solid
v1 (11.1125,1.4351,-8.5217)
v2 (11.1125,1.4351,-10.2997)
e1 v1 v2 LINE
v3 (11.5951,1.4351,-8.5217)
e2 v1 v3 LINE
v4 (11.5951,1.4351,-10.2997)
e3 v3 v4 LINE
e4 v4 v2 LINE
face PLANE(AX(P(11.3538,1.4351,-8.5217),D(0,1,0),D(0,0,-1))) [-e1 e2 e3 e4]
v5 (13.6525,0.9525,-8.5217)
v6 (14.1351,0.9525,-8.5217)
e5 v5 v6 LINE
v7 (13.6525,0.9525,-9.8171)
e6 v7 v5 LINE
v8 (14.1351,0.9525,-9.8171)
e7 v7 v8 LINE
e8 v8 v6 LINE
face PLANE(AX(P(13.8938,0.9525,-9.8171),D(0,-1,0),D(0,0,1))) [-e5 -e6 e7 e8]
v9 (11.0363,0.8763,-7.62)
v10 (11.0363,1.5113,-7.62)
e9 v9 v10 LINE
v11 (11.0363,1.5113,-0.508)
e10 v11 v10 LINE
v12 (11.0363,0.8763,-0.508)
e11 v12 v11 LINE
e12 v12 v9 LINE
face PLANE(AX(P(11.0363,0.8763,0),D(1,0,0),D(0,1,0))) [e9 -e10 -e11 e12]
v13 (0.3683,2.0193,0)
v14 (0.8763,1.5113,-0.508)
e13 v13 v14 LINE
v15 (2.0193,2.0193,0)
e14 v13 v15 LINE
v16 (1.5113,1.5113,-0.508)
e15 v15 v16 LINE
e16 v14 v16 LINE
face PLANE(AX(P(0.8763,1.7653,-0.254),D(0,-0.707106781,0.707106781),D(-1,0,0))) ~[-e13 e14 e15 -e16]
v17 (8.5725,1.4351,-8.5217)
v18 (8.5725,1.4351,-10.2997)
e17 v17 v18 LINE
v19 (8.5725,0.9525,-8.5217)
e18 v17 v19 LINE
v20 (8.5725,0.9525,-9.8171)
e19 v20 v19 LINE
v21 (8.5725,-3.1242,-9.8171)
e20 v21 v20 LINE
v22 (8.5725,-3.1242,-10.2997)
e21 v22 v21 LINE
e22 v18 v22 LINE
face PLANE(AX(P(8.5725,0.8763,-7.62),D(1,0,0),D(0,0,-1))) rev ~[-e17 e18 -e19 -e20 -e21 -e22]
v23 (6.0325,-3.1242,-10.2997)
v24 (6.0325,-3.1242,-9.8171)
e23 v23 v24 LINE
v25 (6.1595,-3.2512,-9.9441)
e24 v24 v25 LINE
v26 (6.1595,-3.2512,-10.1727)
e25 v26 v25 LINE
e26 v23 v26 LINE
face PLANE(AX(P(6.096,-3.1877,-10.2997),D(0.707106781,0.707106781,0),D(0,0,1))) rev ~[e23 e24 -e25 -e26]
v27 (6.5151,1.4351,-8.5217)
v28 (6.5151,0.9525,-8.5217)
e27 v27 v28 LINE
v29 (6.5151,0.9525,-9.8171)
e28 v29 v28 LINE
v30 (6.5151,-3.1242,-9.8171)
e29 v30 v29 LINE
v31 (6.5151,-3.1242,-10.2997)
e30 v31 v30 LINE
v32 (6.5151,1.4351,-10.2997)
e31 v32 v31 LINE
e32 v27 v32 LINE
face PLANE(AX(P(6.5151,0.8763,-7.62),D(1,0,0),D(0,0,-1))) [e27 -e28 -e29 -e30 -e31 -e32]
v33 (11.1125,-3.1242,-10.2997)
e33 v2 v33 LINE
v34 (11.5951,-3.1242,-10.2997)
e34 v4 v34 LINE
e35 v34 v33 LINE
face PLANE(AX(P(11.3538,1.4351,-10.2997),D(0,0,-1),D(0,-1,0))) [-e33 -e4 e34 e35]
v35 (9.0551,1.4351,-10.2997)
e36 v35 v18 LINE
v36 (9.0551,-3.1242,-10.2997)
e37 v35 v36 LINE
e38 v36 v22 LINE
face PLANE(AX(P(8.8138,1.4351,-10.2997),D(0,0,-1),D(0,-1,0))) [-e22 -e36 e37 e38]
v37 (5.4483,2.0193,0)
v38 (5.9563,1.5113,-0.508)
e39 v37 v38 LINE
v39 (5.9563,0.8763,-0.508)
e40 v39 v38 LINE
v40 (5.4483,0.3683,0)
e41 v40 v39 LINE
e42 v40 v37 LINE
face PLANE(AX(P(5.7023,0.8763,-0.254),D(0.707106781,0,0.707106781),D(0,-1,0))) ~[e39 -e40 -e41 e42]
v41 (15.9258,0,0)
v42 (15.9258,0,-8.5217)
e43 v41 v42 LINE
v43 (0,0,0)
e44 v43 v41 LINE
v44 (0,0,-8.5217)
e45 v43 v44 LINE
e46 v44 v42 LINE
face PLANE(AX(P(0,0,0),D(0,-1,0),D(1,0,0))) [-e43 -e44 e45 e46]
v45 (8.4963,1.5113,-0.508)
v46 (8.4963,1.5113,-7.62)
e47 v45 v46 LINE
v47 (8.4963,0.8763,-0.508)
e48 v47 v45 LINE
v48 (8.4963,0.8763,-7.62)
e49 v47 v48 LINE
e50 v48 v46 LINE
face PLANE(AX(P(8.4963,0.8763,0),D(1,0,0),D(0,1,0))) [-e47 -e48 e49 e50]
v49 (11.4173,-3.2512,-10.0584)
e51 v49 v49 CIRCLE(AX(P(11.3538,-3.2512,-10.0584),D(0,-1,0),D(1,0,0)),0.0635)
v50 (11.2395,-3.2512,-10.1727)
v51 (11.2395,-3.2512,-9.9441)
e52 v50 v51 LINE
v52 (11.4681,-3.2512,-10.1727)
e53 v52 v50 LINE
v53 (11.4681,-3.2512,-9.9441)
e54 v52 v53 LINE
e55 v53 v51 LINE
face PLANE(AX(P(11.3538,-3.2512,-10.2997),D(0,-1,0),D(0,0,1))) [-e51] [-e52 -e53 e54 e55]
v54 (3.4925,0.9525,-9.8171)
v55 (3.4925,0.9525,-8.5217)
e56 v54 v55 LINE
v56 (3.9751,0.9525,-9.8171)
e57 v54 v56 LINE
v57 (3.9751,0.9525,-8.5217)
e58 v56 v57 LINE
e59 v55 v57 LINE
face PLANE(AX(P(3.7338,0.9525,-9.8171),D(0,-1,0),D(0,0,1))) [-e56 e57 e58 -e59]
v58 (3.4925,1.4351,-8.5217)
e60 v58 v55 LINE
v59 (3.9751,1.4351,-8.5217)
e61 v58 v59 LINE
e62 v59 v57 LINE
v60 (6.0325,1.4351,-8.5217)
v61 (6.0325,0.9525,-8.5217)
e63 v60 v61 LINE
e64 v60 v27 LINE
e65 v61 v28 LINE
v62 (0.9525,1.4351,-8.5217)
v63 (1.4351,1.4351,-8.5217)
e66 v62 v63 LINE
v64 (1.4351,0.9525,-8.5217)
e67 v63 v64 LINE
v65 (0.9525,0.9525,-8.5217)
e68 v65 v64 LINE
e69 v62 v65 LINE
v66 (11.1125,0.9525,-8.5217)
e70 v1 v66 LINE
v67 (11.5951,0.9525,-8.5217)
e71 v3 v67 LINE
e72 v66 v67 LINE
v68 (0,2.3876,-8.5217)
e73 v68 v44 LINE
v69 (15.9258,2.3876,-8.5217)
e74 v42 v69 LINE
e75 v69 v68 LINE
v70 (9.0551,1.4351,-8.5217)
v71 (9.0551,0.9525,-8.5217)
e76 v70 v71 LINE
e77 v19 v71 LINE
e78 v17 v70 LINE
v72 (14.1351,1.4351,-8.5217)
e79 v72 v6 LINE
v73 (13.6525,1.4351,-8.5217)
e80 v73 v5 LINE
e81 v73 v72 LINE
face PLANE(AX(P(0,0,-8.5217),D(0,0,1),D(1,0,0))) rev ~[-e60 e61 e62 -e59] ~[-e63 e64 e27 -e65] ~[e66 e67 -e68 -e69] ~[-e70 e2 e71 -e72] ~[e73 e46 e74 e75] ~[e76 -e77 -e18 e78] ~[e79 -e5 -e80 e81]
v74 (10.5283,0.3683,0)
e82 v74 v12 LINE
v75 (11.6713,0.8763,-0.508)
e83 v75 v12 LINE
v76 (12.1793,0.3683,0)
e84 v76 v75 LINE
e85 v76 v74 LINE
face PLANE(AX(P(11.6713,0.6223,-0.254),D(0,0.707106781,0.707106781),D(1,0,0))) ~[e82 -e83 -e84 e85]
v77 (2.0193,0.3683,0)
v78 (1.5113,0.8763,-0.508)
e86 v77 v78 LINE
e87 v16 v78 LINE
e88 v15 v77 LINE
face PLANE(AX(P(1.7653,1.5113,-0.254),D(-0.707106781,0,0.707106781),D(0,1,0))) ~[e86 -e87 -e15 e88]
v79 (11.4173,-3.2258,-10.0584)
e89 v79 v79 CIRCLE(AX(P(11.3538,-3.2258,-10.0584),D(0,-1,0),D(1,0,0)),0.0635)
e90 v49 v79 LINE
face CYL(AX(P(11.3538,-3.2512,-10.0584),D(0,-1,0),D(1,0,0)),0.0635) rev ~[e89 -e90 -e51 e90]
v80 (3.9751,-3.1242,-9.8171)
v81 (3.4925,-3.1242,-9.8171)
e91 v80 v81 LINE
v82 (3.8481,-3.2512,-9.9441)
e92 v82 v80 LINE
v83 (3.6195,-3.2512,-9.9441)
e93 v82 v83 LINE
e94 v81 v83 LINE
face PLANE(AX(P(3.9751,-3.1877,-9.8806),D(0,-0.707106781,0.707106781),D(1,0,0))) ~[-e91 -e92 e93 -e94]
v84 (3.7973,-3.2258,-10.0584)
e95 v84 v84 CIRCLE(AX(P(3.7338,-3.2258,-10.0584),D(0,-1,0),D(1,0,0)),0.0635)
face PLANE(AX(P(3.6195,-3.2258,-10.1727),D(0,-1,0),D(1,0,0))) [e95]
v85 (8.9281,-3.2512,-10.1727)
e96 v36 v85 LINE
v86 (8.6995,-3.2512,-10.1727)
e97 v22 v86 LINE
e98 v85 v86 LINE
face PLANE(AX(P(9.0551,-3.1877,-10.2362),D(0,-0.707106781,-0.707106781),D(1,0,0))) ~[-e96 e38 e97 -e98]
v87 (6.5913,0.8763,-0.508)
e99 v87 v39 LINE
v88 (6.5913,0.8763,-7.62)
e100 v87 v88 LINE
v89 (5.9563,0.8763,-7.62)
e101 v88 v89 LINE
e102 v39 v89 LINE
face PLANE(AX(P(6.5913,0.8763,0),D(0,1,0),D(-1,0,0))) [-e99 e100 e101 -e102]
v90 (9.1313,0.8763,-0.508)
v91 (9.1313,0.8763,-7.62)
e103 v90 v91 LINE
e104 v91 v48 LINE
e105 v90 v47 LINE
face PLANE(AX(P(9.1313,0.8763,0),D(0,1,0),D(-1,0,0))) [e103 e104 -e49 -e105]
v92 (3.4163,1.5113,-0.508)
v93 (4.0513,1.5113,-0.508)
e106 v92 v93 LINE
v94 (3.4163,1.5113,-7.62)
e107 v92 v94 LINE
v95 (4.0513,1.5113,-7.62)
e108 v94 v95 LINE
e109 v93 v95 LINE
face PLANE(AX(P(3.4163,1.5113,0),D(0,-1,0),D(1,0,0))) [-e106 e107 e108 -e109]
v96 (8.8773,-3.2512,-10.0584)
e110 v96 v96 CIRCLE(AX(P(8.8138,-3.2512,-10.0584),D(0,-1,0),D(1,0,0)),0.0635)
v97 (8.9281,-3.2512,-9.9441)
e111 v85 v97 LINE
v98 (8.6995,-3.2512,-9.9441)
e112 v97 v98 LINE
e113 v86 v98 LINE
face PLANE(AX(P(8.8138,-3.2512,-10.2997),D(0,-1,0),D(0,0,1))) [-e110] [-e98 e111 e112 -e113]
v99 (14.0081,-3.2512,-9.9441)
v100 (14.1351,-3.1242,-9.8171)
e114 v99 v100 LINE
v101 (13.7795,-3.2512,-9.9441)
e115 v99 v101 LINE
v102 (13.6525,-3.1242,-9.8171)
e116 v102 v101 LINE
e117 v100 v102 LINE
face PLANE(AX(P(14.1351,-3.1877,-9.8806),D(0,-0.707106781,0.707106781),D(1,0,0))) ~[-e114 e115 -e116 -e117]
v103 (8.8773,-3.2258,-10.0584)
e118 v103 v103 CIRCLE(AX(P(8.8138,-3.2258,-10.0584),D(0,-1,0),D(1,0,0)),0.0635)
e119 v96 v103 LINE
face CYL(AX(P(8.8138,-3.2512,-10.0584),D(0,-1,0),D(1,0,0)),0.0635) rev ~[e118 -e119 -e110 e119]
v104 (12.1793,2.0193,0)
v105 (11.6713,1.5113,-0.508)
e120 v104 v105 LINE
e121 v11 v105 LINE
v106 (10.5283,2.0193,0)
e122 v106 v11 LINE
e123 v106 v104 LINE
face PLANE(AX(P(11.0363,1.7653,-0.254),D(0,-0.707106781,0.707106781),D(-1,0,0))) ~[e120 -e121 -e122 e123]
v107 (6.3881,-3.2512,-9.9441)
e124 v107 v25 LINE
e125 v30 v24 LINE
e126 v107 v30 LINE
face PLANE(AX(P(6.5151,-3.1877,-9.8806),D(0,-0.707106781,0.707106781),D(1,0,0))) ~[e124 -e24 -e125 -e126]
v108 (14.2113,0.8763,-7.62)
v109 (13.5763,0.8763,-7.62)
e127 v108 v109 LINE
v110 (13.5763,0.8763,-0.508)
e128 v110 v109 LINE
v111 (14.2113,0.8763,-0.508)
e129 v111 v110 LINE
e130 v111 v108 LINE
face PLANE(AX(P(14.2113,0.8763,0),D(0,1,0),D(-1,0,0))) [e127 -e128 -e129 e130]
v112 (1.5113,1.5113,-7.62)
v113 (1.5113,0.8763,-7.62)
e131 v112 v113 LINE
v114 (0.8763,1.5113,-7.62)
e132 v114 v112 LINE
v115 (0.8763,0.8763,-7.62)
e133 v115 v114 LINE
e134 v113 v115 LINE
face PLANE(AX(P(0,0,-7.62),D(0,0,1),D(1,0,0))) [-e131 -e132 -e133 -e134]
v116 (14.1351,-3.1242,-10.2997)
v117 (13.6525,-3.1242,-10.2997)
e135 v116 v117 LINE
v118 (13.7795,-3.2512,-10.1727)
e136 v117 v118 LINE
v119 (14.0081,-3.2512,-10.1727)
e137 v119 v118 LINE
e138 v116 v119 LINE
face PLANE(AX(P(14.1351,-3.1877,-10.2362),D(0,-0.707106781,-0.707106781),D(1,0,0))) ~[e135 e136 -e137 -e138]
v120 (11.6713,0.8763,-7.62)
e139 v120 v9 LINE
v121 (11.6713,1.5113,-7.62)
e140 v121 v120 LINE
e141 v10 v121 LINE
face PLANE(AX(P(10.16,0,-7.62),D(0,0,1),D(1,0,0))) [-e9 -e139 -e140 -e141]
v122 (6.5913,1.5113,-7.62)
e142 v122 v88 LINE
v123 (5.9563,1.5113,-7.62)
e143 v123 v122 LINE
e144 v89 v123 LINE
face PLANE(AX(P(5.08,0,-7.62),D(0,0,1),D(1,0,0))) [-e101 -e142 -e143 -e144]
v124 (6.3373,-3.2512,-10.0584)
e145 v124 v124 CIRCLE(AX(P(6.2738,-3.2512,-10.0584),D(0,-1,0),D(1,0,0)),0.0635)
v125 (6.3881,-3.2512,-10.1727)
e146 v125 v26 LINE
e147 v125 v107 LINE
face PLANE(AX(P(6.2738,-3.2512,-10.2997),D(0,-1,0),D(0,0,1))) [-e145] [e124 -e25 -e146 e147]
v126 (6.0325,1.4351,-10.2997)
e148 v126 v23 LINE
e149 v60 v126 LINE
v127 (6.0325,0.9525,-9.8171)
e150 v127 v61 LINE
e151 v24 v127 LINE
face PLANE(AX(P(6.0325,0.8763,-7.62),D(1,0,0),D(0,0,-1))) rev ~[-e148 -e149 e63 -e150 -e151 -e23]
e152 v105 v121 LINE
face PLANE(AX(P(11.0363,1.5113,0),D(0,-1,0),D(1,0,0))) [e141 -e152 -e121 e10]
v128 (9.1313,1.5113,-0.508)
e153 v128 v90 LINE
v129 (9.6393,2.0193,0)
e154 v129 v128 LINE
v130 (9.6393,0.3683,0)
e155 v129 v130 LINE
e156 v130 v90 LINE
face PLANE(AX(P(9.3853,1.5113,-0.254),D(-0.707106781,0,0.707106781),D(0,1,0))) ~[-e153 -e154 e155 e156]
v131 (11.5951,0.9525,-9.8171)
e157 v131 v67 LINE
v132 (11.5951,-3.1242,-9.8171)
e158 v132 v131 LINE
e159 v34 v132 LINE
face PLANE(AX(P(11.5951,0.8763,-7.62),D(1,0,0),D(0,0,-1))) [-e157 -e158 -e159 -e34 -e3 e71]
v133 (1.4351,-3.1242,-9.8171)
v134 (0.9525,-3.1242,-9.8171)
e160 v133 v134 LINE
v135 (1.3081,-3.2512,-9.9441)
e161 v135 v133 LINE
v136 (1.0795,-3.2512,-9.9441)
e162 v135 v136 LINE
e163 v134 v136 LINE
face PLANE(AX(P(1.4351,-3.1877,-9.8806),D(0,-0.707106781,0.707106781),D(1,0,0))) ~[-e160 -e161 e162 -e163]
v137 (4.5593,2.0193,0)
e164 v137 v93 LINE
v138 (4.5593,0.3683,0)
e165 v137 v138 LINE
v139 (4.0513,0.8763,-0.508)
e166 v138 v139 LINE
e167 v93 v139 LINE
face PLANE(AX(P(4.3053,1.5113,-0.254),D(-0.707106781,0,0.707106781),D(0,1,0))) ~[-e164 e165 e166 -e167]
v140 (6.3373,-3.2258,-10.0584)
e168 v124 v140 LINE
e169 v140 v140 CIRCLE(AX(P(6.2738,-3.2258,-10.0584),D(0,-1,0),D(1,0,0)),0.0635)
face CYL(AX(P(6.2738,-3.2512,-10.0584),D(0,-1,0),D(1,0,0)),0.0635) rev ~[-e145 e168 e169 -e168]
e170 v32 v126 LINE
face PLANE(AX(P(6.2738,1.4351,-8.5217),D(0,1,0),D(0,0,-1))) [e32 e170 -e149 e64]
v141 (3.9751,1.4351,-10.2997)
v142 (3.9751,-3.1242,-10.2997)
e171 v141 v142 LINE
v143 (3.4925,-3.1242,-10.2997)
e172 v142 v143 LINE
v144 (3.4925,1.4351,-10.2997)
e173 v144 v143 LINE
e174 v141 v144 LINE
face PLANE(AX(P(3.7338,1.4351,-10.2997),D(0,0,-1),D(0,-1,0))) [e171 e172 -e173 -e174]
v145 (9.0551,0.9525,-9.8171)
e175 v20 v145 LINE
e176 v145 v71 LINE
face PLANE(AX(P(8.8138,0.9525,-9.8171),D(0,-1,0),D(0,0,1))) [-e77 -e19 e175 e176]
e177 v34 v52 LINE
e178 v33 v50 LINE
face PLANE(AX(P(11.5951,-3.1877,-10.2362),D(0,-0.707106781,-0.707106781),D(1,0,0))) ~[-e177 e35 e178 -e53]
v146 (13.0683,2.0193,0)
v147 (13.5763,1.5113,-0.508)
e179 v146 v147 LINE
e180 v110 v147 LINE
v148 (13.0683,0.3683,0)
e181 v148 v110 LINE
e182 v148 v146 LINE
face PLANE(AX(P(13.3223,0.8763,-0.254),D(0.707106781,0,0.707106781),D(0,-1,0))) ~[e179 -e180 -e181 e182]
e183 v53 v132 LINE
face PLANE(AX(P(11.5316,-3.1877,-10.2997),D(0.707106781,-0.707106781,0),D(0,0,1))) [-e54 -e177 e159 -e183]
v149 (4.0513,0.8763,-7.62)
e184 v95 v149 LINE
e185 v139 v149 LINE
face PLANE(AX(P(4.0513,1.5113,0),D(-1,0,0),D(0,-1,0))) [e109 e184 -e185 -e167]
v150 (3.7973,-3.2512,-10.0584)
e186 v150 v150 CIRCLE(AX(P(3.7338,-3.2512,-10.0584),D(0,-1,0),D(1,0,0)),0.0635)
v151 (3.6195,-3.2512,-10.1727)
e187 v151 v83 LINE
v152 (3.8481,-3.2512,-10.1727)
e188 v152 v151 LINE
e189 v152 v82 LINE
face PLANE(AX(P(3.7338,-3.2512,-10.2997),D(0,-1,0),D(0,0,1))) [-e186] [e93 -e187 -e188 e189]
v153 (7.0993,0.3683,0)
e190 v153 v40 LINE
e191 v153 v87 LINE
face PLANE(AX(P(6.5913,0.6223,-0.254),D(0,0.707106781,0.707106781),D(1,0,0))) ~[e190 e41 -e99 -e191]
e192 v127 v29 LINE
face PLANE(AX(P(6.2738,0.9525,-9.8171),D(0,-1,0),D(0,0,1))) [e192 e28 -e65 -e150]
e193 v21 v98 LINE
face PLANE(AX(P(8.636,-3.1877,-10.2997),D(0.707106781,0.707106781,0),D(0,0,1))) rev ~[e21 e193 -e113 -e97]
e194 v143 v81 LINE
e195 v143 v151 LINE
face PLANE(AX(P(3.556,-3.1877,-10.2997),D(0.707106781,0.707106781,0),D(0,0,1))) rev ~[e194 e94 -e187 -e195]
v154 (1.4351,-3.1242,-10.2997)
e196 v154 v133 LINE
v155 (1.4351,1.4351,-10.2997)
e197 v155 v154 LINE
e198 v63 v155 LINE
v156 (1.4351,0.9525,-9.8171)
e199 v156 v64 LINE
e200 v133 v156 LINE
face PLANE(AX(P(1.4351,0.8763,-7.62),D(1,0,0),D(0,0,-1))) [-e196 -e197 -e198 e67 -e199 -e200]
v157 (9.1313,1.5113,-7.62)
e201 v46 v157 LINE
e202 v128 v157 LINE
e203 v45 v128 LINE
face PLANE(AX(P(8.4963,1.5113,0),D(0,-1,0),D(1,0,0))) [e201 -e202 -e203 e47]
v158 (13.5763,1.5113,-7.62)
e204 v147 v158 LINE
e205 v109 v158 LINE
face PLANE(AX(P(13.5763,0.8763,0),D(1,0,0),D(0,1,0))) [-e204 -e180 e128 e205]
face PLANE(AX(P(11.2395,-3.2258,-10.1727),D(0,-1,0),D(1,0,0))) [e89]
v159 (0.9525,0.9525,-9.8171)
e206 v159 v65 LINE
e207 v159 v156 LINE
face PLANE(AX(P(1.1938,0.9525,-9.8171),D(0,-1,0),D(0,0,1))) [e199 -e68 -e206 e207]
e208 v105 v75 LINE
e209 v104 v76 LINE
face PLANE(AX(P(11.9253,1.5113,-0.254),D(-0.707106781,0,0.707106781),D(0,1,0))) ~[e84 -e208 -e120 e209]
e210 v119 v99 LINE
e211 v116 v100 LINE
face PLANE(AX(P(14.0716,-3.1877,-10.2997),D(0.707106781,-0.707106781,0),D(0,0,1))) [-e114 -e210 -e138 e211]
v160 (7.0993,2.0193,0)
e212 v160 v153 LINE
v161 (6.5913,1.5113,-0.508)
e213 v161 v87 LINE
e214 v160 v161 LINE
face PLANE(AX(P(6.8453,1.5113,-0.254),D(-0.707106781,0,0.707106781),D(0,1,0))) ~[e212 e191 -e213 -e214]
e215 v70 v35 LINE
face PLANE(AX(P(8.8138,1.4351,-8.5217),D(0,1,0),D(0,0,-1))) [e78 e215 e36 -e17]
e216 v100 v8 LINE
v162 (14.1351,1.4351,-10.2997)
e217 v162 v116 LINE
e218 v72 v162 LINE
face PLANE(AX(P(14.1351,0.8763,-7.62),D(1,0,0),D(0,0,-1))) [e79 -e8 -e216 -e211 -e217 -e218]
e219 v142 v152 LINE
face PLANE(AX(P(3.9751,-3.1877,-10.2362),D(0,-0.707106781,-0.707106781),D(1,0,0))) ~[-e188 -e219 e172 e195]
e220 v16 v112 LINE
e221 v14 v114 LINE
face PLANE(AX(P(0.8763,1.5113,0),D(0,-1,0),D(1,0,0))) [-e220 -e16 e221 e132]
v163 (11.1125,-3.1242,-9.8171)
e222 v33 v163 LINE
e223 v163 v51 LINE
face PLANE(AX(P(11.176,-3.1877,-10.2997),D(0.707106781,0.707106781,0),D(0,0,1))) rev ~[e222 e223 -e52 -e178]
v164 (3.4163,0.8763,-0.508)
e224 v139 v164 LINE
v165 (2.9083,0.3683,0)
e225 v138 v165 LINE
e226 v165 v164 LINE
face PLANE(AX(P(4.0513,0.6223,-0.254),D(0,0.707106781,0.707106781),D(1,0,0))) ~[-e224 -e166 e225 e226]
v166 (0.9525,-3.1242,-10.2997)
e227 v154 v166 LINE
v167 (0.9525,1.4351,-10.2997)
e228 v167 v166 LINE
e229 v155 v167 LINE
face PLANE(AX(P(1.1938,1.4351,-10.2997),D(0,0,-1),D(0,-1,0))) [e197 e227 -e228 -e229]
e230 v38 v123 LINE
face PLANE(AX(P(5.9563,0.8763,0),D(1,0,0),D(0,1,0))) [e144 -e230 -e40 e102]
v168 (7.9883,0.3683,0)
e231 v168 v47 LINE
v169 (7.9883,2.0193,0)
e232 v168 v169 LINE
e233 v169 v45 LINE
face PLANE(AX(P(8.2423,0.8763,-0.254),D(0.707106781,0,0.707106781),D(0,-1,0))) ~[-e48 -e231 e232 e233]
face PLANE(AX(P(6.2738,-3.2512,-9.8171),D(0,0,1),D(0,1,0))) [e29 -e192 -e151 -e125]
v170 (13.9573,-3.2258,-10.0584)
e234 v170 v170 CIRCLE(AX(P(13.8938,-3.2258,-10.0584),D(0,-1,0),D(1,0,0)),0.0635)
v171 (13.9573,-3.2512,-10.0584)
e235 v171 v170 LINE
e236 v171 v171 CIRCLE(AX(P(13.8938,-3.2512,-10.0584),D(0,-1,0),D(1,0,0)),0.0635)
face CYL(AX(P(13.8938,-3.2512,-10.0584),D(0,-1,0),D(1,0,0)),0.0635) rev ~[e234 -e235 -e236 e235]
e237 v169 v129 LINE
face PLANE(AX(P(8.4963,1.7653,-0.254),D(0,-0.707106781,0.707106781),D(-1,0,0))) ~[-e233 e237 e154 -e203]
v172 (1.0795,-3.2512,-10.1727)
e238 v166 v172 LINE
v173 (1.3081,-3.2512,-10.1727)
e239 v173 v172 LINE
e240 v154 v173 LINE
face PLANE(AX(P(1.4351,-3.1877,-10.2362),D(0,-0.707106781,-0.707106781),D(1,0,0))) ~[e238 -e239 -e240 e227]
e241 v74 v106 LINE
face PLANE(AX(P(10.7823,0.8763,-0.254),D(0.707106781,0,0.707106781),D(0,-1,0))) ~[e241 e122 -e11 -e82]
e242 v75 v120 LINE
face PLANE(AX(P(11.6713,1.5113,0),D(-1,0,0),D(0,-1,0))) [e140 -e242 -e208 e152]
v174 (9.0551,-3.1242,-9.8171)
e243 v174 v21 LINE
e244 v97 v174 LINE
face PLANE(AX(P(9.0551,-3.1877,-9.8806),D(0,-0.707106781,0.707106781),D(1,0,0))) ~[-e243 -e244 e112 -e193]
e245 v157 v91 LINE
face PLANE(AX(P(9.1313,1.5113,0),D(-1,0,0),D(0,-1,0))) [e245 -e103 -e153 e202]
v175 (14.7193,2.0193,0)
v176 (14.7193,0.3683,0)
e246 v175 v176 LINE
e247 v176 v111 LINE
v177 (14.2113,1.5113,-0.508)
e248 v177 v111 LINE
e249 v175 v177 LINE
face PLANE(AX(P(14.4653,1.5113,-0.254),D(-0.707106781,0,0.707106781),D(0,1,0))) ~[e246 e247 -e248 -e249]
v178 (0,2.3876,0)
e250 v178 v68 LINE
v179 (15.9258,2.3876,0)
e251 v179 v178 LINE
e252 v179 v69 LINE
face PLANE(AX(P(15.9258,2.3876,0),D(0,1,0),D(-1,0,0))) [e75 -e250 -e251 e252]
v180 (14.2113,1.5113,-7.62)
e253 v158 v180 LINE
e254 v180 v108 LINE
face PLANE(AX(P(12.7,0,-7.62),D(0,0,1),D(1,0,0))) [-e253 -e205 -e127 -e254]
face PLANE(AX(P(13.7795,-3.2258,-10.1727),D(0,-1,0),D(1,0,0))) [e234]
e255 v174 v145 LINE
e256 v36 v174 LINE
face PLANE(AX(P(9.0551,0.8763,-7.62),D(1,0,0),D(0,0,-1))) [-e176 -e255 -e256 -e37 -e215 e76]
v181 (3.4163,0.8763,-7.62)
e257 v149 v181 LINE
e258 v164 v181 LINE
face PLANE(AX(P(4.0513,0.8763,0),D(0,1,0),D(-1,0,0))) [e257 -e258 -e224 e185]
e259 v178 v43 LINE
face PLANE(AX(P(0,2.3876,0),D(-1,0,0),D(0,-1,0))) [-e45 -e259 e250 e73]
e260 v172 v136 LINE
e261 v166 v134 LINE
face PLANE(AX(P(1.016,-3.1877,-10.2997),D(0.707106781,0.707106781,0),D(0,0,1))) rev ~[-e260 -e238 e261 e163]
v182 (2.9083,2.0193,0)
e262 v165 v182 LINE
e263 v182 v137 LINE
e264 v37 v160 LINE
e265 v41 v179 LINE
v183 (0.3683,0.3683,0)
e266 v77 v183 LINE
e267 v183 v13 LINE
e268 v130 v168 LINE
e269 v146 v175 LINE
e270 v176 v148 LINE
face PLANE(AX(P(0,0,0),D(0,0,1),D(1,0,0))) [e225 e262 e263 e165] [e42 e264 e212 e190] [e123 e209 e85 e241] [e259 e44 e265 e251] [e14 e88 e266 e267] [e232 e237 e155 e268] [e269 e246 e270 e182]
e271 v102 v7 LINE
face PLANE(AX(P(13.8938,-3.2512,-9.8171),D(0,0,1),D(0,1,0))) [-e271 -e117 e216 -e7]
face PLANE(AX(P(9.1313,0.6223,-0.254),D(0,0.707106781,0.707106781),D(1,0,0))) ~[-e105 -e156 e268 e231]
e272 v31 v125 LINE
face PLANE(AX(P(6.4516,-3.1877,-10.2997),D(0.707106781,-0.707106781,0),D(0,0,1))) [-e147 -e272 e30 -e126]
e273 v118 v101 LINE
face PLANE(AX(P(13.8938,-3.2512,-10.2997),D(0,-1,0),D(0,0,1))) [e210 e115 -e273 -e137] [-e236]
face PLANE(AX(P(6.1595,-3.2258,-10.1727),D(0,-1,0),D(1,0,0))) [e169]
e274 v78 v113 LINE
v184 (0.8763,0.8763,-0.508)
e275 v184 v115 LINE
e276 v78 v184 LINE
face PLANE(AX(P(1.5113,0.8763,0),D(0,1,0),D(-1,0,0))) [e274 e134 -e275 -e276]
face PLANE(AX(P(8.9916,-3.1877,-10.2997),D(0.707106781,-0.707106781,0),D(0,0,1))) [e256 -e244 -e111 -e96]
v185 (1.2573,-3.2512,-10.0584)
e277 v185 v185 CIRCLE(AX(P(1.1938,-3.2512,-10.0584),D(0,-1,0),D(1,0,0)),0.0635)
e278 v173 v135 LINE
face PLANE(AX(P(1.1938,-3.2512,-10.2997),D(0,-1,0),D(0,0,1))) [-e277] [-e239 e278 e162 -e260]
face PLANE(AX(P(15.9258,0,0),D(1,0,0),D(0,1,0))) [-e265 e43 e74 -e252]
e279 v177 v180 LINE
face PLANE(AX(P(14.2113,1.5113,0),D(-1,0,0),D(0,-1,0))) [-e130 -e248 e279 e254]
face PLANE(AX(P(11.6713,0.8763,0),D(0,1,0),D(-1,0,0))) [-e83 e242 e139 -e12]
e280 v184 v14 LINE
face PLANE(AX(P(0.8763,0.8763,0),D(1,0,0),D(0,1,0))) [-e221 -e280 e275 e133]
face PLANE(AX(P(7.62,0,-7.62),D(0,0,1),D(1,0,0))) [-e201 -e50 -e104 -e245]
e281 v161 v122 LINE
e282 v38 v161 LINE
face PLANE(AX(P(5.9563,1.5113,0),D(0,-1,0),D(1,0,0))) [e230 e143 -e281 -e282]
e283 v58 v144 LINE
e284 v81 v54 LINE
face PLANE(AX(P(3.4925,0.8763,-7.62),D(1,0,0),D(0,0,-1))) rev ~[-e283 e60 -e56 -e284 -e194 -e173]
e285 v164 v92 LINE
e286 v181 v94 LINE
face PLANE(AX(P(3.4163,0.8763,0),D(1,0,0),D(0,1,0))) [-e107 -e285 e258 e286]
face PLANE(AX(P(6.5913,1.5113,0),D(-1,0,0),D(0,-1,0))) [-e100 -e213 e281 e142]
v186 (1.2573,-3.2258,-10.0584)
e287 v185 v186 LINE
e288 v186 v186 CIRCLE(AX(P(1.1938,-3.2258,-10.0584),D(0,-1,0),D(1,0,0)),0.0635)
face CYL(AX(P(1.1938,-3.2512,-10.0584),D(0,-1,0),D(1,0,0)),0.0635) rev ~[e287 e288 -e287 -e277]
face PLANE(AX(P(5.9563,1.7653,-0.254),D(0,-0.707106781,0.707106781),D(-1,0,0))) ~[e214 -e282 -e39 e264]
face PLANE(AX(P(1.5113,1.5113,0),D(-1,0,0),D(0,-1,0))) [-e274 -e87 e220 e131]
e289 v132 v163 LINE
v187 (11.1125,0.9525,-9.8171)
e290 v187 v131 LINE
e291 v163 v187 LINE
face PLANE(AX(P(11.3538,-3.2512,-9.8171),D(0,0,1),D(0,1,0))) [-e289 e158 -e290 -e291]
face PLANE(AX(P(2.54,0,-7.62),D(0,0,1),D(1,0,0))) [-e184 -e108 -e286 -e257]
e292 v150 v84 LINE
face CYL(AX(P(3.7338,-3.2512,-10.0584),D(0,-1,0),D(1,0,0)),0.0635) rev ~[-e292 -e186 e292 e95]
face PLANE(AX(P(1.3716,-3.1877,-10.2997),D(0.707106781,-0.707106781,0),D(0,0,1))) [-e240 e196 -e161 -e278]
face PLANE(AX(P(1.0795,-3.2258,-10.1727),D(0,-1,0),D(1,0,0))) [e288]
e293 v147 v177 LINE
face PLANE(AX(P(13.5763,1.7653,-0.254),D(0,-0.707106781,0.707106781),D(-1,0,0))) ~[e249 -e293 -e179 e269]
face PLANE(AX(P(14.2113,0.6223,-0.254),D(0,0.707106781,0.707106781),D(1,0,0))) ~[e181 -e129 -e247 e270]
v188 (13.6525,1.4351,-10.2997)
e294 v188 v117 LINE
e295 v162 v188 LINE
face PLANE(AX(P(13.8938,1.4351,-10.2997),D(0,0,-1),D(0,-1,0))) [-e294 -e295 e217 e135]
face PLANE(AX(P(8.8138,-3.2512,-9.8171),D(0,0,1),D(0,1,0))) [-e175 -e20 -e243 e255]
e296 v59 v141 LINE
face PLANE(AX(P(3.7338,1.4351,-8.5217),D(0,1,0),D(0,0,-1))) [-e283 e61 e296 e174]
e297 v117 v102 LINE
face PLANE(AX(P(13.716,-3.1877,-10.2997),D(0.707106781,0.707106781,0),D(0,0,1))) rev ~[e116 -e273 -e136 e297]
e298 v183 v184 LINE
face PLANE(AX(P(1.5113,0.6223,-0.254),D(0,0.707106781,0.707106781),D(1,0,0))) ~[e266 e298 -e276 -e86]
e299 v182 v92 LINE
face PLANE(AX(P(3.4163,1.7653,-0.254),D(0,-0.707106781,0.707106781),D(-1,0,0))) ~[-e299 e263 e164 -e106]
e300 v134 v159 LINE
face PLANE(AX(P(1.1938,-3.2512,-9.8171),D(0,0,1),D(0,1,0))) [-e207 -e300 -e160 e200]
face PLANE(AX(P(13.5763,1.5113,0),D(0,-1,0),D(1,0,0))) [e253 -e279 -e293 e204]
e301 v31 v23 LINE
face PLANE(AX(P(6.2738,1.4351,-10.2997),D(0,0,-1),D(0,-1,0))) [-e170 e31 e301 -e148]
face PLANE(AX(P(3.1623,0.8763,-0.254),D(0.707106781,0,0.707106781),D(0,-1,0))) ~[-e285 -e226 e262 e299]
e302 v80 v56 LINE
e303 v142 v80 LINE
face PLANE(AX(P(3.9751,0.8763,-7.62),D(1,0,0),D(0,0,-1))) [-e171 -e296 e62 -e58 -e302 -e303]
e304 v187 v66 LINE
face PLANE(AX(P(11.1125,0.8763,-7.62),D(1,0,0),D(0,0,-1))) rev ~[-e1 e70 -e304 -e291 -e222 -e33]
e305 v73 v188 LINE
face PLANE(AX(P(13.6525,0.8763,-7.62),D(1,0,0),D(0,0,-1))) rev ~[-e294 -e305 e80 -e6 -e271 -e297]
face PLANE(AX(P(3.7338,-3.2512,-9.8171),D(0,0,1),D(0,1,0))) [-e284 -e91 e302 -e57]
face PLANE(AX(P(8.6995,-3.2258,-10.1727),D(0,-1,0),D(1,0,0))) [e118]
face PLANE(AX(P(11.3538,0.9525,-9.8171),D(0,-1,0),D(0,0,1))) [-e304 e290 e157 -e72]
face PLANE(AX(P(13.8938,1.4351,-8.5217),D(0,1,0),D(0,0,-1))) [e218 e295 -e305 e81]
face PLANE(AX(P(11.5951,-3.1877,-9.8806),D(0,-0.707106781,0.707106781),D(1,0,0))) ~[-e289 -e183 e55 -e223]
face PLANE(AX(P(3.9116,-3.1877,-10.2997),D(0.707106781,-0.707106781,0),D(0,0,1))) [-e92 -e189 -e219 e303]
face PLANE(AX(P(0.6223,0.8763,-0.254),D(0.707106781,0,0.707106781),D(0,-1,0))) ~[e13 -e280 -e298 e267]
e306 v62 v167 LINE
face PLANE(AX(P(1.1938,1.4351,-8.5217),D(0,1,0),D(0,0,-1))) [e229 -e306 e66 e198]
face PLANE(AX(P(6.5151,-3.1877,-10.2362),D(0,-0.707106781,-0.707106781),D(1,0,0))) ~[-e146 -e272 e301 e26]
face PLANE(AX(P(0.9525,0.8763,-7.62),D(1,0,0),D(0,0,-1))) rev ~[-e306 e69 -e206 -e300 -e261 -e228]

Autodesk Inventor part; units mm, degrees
ref_plane "YZ Plane" through (0, 0, 0) normal (1, 0, 0) x (0, 1, 0)
ref_plane "XZ Plane" through (0, 0, 0) normal (0, 1, 0) x (-1, 0, 0)
sketch "Sketch1" plane through (0, 0, 0) normal (0, 0, 1) x (1, 0, 0)
  line L0 (0, 0) -> (15.9258, 0)
  line L1 (15.9258, 0) -> (15.9258, 2.3876)
  line L2 (15.9258, 2.3876) -> (0, 2.3876)
  line L3 (0, 2.3876) -> (0, 0)
  dimension "d0" = 15.9258
  dimension "d1" = 2.3876
extrude "Extrusion1" add sketch "Sketch1" against normal blind 8.5217
sketch "Sketch2" plane through (0, 0, 0) normal (0, 0, 1) x (1, 0, 0)
  line L0 (0.8763, 1.5113) -> (1.5113, 1.5113)
  line L1 (1.5113, 1.5113) -> (1.5113, 0.8763)
  line L2 (1.5113, 0.8763) -> (0.8763, 0.8763)
  line L3 (0.8763, 0.8763) -> (0.8763, 1.5113)
  line L4 (0, 2.3876) -> (0, 0) projected
  line L5 (15.9258, 2.3876) -> (0, 2.3876) projected
  point P0 (0, 1.1938)
  point P1 (0.8763, 1.1938)
  dimension "d4" = 0.635
  dimension "d5" = 0.8763
  dimension "d6" = 0.8763
extrude "Extrusion2" cut sketch "Sketch2" against normal blind 7.62
chamfer "Chamfer1" distance 0.508 angle 45 4 edges at (1.1938, 1.5113, 0) (0.8763, 1.1938, 0) (1.1938, 0.8763, 0) (1.5113, 1.1938, 0)
ref_plane "Work Plane1" through (1.1938, 0.8763, -7.62) normal (1, 0, 0) x (0, 0, -1)
sketch "Sketch3" plane through (1.1938, 0.8763, -7.62) normal (1, 0, 0) x (0, 0, -1)
  line L0 (0.9017, 1.5113) -> (0.9017, -0.8763) projected
  line L1 (0.9017, 0.5588) -> (2.6797, 0.5588)
  line L2 (2.6797, 0.5588) -> (2.6797, -4.1275)
  line L3 (2.6797, -4.1275) -> (2.1971, -4.1275)
  line L4 (2.1971, -4.1275) -> (2.1971, 0.0762)
  line L5 (2.1971, 0.0762) -> (0.9017, 0.0762)
  line L6 (-7.62, -0.8763) -> (0.9017, -0.8763) projected
  dimension "d15" = 0.4826
  dimension "d16" = 0.4826
  dimension "d17" = 0.9525
  dimension "d18" = 0.9525
  dimension "d19" = 1.778
  dimension "d20" = 3.2512
extrude "Extrusion3" add sketch "Sketch3" along normal mid plane 0.4826
chamfer "Chamfer2" distance 0.127 angle 45 4 edges at (0.9525, -3.2512, -10.0584) (1.1938, -3.2512, -9.8171) (1.1938, -3.2512, -10.2997) (1.4351, -3.2512, -10.0584)
sketch "Sketch4" plane through (1.0795, -3.2512, -10.1727) normal (0, -1, 0) x (1, 0, 0)
  circle A0 centre (0.1143, 0.1143) radius 0.0635
  line L0 (0, 0.2286) -> (0.2286, 0.2286) projected
  line L1 (0.2286, 0.2286) -> (0.2286, 0) projected
  point P0 (-1.0795, 10.1727)
  point P1 (0.1143, 0.2286)
  point P2 (0.2286, 0.1143)
  dimension "d26" = 0.127
extrude "Extrusion4" cut sketch "Sketch4" against normal blind 0.0254
pattern_linear "Rectangular Pattern1" count 6 spacing 2.54 along (1, 0, 0) of "Extrusion2", "Chamfer1", "Extrusion3", "Chamfer2", "Extrusion4"
equation "\"d6\" = d5"
equation "\"d16\" = d15"
equation "\"d17\" = d18"
properties part number "Right-Angle Female Header"
